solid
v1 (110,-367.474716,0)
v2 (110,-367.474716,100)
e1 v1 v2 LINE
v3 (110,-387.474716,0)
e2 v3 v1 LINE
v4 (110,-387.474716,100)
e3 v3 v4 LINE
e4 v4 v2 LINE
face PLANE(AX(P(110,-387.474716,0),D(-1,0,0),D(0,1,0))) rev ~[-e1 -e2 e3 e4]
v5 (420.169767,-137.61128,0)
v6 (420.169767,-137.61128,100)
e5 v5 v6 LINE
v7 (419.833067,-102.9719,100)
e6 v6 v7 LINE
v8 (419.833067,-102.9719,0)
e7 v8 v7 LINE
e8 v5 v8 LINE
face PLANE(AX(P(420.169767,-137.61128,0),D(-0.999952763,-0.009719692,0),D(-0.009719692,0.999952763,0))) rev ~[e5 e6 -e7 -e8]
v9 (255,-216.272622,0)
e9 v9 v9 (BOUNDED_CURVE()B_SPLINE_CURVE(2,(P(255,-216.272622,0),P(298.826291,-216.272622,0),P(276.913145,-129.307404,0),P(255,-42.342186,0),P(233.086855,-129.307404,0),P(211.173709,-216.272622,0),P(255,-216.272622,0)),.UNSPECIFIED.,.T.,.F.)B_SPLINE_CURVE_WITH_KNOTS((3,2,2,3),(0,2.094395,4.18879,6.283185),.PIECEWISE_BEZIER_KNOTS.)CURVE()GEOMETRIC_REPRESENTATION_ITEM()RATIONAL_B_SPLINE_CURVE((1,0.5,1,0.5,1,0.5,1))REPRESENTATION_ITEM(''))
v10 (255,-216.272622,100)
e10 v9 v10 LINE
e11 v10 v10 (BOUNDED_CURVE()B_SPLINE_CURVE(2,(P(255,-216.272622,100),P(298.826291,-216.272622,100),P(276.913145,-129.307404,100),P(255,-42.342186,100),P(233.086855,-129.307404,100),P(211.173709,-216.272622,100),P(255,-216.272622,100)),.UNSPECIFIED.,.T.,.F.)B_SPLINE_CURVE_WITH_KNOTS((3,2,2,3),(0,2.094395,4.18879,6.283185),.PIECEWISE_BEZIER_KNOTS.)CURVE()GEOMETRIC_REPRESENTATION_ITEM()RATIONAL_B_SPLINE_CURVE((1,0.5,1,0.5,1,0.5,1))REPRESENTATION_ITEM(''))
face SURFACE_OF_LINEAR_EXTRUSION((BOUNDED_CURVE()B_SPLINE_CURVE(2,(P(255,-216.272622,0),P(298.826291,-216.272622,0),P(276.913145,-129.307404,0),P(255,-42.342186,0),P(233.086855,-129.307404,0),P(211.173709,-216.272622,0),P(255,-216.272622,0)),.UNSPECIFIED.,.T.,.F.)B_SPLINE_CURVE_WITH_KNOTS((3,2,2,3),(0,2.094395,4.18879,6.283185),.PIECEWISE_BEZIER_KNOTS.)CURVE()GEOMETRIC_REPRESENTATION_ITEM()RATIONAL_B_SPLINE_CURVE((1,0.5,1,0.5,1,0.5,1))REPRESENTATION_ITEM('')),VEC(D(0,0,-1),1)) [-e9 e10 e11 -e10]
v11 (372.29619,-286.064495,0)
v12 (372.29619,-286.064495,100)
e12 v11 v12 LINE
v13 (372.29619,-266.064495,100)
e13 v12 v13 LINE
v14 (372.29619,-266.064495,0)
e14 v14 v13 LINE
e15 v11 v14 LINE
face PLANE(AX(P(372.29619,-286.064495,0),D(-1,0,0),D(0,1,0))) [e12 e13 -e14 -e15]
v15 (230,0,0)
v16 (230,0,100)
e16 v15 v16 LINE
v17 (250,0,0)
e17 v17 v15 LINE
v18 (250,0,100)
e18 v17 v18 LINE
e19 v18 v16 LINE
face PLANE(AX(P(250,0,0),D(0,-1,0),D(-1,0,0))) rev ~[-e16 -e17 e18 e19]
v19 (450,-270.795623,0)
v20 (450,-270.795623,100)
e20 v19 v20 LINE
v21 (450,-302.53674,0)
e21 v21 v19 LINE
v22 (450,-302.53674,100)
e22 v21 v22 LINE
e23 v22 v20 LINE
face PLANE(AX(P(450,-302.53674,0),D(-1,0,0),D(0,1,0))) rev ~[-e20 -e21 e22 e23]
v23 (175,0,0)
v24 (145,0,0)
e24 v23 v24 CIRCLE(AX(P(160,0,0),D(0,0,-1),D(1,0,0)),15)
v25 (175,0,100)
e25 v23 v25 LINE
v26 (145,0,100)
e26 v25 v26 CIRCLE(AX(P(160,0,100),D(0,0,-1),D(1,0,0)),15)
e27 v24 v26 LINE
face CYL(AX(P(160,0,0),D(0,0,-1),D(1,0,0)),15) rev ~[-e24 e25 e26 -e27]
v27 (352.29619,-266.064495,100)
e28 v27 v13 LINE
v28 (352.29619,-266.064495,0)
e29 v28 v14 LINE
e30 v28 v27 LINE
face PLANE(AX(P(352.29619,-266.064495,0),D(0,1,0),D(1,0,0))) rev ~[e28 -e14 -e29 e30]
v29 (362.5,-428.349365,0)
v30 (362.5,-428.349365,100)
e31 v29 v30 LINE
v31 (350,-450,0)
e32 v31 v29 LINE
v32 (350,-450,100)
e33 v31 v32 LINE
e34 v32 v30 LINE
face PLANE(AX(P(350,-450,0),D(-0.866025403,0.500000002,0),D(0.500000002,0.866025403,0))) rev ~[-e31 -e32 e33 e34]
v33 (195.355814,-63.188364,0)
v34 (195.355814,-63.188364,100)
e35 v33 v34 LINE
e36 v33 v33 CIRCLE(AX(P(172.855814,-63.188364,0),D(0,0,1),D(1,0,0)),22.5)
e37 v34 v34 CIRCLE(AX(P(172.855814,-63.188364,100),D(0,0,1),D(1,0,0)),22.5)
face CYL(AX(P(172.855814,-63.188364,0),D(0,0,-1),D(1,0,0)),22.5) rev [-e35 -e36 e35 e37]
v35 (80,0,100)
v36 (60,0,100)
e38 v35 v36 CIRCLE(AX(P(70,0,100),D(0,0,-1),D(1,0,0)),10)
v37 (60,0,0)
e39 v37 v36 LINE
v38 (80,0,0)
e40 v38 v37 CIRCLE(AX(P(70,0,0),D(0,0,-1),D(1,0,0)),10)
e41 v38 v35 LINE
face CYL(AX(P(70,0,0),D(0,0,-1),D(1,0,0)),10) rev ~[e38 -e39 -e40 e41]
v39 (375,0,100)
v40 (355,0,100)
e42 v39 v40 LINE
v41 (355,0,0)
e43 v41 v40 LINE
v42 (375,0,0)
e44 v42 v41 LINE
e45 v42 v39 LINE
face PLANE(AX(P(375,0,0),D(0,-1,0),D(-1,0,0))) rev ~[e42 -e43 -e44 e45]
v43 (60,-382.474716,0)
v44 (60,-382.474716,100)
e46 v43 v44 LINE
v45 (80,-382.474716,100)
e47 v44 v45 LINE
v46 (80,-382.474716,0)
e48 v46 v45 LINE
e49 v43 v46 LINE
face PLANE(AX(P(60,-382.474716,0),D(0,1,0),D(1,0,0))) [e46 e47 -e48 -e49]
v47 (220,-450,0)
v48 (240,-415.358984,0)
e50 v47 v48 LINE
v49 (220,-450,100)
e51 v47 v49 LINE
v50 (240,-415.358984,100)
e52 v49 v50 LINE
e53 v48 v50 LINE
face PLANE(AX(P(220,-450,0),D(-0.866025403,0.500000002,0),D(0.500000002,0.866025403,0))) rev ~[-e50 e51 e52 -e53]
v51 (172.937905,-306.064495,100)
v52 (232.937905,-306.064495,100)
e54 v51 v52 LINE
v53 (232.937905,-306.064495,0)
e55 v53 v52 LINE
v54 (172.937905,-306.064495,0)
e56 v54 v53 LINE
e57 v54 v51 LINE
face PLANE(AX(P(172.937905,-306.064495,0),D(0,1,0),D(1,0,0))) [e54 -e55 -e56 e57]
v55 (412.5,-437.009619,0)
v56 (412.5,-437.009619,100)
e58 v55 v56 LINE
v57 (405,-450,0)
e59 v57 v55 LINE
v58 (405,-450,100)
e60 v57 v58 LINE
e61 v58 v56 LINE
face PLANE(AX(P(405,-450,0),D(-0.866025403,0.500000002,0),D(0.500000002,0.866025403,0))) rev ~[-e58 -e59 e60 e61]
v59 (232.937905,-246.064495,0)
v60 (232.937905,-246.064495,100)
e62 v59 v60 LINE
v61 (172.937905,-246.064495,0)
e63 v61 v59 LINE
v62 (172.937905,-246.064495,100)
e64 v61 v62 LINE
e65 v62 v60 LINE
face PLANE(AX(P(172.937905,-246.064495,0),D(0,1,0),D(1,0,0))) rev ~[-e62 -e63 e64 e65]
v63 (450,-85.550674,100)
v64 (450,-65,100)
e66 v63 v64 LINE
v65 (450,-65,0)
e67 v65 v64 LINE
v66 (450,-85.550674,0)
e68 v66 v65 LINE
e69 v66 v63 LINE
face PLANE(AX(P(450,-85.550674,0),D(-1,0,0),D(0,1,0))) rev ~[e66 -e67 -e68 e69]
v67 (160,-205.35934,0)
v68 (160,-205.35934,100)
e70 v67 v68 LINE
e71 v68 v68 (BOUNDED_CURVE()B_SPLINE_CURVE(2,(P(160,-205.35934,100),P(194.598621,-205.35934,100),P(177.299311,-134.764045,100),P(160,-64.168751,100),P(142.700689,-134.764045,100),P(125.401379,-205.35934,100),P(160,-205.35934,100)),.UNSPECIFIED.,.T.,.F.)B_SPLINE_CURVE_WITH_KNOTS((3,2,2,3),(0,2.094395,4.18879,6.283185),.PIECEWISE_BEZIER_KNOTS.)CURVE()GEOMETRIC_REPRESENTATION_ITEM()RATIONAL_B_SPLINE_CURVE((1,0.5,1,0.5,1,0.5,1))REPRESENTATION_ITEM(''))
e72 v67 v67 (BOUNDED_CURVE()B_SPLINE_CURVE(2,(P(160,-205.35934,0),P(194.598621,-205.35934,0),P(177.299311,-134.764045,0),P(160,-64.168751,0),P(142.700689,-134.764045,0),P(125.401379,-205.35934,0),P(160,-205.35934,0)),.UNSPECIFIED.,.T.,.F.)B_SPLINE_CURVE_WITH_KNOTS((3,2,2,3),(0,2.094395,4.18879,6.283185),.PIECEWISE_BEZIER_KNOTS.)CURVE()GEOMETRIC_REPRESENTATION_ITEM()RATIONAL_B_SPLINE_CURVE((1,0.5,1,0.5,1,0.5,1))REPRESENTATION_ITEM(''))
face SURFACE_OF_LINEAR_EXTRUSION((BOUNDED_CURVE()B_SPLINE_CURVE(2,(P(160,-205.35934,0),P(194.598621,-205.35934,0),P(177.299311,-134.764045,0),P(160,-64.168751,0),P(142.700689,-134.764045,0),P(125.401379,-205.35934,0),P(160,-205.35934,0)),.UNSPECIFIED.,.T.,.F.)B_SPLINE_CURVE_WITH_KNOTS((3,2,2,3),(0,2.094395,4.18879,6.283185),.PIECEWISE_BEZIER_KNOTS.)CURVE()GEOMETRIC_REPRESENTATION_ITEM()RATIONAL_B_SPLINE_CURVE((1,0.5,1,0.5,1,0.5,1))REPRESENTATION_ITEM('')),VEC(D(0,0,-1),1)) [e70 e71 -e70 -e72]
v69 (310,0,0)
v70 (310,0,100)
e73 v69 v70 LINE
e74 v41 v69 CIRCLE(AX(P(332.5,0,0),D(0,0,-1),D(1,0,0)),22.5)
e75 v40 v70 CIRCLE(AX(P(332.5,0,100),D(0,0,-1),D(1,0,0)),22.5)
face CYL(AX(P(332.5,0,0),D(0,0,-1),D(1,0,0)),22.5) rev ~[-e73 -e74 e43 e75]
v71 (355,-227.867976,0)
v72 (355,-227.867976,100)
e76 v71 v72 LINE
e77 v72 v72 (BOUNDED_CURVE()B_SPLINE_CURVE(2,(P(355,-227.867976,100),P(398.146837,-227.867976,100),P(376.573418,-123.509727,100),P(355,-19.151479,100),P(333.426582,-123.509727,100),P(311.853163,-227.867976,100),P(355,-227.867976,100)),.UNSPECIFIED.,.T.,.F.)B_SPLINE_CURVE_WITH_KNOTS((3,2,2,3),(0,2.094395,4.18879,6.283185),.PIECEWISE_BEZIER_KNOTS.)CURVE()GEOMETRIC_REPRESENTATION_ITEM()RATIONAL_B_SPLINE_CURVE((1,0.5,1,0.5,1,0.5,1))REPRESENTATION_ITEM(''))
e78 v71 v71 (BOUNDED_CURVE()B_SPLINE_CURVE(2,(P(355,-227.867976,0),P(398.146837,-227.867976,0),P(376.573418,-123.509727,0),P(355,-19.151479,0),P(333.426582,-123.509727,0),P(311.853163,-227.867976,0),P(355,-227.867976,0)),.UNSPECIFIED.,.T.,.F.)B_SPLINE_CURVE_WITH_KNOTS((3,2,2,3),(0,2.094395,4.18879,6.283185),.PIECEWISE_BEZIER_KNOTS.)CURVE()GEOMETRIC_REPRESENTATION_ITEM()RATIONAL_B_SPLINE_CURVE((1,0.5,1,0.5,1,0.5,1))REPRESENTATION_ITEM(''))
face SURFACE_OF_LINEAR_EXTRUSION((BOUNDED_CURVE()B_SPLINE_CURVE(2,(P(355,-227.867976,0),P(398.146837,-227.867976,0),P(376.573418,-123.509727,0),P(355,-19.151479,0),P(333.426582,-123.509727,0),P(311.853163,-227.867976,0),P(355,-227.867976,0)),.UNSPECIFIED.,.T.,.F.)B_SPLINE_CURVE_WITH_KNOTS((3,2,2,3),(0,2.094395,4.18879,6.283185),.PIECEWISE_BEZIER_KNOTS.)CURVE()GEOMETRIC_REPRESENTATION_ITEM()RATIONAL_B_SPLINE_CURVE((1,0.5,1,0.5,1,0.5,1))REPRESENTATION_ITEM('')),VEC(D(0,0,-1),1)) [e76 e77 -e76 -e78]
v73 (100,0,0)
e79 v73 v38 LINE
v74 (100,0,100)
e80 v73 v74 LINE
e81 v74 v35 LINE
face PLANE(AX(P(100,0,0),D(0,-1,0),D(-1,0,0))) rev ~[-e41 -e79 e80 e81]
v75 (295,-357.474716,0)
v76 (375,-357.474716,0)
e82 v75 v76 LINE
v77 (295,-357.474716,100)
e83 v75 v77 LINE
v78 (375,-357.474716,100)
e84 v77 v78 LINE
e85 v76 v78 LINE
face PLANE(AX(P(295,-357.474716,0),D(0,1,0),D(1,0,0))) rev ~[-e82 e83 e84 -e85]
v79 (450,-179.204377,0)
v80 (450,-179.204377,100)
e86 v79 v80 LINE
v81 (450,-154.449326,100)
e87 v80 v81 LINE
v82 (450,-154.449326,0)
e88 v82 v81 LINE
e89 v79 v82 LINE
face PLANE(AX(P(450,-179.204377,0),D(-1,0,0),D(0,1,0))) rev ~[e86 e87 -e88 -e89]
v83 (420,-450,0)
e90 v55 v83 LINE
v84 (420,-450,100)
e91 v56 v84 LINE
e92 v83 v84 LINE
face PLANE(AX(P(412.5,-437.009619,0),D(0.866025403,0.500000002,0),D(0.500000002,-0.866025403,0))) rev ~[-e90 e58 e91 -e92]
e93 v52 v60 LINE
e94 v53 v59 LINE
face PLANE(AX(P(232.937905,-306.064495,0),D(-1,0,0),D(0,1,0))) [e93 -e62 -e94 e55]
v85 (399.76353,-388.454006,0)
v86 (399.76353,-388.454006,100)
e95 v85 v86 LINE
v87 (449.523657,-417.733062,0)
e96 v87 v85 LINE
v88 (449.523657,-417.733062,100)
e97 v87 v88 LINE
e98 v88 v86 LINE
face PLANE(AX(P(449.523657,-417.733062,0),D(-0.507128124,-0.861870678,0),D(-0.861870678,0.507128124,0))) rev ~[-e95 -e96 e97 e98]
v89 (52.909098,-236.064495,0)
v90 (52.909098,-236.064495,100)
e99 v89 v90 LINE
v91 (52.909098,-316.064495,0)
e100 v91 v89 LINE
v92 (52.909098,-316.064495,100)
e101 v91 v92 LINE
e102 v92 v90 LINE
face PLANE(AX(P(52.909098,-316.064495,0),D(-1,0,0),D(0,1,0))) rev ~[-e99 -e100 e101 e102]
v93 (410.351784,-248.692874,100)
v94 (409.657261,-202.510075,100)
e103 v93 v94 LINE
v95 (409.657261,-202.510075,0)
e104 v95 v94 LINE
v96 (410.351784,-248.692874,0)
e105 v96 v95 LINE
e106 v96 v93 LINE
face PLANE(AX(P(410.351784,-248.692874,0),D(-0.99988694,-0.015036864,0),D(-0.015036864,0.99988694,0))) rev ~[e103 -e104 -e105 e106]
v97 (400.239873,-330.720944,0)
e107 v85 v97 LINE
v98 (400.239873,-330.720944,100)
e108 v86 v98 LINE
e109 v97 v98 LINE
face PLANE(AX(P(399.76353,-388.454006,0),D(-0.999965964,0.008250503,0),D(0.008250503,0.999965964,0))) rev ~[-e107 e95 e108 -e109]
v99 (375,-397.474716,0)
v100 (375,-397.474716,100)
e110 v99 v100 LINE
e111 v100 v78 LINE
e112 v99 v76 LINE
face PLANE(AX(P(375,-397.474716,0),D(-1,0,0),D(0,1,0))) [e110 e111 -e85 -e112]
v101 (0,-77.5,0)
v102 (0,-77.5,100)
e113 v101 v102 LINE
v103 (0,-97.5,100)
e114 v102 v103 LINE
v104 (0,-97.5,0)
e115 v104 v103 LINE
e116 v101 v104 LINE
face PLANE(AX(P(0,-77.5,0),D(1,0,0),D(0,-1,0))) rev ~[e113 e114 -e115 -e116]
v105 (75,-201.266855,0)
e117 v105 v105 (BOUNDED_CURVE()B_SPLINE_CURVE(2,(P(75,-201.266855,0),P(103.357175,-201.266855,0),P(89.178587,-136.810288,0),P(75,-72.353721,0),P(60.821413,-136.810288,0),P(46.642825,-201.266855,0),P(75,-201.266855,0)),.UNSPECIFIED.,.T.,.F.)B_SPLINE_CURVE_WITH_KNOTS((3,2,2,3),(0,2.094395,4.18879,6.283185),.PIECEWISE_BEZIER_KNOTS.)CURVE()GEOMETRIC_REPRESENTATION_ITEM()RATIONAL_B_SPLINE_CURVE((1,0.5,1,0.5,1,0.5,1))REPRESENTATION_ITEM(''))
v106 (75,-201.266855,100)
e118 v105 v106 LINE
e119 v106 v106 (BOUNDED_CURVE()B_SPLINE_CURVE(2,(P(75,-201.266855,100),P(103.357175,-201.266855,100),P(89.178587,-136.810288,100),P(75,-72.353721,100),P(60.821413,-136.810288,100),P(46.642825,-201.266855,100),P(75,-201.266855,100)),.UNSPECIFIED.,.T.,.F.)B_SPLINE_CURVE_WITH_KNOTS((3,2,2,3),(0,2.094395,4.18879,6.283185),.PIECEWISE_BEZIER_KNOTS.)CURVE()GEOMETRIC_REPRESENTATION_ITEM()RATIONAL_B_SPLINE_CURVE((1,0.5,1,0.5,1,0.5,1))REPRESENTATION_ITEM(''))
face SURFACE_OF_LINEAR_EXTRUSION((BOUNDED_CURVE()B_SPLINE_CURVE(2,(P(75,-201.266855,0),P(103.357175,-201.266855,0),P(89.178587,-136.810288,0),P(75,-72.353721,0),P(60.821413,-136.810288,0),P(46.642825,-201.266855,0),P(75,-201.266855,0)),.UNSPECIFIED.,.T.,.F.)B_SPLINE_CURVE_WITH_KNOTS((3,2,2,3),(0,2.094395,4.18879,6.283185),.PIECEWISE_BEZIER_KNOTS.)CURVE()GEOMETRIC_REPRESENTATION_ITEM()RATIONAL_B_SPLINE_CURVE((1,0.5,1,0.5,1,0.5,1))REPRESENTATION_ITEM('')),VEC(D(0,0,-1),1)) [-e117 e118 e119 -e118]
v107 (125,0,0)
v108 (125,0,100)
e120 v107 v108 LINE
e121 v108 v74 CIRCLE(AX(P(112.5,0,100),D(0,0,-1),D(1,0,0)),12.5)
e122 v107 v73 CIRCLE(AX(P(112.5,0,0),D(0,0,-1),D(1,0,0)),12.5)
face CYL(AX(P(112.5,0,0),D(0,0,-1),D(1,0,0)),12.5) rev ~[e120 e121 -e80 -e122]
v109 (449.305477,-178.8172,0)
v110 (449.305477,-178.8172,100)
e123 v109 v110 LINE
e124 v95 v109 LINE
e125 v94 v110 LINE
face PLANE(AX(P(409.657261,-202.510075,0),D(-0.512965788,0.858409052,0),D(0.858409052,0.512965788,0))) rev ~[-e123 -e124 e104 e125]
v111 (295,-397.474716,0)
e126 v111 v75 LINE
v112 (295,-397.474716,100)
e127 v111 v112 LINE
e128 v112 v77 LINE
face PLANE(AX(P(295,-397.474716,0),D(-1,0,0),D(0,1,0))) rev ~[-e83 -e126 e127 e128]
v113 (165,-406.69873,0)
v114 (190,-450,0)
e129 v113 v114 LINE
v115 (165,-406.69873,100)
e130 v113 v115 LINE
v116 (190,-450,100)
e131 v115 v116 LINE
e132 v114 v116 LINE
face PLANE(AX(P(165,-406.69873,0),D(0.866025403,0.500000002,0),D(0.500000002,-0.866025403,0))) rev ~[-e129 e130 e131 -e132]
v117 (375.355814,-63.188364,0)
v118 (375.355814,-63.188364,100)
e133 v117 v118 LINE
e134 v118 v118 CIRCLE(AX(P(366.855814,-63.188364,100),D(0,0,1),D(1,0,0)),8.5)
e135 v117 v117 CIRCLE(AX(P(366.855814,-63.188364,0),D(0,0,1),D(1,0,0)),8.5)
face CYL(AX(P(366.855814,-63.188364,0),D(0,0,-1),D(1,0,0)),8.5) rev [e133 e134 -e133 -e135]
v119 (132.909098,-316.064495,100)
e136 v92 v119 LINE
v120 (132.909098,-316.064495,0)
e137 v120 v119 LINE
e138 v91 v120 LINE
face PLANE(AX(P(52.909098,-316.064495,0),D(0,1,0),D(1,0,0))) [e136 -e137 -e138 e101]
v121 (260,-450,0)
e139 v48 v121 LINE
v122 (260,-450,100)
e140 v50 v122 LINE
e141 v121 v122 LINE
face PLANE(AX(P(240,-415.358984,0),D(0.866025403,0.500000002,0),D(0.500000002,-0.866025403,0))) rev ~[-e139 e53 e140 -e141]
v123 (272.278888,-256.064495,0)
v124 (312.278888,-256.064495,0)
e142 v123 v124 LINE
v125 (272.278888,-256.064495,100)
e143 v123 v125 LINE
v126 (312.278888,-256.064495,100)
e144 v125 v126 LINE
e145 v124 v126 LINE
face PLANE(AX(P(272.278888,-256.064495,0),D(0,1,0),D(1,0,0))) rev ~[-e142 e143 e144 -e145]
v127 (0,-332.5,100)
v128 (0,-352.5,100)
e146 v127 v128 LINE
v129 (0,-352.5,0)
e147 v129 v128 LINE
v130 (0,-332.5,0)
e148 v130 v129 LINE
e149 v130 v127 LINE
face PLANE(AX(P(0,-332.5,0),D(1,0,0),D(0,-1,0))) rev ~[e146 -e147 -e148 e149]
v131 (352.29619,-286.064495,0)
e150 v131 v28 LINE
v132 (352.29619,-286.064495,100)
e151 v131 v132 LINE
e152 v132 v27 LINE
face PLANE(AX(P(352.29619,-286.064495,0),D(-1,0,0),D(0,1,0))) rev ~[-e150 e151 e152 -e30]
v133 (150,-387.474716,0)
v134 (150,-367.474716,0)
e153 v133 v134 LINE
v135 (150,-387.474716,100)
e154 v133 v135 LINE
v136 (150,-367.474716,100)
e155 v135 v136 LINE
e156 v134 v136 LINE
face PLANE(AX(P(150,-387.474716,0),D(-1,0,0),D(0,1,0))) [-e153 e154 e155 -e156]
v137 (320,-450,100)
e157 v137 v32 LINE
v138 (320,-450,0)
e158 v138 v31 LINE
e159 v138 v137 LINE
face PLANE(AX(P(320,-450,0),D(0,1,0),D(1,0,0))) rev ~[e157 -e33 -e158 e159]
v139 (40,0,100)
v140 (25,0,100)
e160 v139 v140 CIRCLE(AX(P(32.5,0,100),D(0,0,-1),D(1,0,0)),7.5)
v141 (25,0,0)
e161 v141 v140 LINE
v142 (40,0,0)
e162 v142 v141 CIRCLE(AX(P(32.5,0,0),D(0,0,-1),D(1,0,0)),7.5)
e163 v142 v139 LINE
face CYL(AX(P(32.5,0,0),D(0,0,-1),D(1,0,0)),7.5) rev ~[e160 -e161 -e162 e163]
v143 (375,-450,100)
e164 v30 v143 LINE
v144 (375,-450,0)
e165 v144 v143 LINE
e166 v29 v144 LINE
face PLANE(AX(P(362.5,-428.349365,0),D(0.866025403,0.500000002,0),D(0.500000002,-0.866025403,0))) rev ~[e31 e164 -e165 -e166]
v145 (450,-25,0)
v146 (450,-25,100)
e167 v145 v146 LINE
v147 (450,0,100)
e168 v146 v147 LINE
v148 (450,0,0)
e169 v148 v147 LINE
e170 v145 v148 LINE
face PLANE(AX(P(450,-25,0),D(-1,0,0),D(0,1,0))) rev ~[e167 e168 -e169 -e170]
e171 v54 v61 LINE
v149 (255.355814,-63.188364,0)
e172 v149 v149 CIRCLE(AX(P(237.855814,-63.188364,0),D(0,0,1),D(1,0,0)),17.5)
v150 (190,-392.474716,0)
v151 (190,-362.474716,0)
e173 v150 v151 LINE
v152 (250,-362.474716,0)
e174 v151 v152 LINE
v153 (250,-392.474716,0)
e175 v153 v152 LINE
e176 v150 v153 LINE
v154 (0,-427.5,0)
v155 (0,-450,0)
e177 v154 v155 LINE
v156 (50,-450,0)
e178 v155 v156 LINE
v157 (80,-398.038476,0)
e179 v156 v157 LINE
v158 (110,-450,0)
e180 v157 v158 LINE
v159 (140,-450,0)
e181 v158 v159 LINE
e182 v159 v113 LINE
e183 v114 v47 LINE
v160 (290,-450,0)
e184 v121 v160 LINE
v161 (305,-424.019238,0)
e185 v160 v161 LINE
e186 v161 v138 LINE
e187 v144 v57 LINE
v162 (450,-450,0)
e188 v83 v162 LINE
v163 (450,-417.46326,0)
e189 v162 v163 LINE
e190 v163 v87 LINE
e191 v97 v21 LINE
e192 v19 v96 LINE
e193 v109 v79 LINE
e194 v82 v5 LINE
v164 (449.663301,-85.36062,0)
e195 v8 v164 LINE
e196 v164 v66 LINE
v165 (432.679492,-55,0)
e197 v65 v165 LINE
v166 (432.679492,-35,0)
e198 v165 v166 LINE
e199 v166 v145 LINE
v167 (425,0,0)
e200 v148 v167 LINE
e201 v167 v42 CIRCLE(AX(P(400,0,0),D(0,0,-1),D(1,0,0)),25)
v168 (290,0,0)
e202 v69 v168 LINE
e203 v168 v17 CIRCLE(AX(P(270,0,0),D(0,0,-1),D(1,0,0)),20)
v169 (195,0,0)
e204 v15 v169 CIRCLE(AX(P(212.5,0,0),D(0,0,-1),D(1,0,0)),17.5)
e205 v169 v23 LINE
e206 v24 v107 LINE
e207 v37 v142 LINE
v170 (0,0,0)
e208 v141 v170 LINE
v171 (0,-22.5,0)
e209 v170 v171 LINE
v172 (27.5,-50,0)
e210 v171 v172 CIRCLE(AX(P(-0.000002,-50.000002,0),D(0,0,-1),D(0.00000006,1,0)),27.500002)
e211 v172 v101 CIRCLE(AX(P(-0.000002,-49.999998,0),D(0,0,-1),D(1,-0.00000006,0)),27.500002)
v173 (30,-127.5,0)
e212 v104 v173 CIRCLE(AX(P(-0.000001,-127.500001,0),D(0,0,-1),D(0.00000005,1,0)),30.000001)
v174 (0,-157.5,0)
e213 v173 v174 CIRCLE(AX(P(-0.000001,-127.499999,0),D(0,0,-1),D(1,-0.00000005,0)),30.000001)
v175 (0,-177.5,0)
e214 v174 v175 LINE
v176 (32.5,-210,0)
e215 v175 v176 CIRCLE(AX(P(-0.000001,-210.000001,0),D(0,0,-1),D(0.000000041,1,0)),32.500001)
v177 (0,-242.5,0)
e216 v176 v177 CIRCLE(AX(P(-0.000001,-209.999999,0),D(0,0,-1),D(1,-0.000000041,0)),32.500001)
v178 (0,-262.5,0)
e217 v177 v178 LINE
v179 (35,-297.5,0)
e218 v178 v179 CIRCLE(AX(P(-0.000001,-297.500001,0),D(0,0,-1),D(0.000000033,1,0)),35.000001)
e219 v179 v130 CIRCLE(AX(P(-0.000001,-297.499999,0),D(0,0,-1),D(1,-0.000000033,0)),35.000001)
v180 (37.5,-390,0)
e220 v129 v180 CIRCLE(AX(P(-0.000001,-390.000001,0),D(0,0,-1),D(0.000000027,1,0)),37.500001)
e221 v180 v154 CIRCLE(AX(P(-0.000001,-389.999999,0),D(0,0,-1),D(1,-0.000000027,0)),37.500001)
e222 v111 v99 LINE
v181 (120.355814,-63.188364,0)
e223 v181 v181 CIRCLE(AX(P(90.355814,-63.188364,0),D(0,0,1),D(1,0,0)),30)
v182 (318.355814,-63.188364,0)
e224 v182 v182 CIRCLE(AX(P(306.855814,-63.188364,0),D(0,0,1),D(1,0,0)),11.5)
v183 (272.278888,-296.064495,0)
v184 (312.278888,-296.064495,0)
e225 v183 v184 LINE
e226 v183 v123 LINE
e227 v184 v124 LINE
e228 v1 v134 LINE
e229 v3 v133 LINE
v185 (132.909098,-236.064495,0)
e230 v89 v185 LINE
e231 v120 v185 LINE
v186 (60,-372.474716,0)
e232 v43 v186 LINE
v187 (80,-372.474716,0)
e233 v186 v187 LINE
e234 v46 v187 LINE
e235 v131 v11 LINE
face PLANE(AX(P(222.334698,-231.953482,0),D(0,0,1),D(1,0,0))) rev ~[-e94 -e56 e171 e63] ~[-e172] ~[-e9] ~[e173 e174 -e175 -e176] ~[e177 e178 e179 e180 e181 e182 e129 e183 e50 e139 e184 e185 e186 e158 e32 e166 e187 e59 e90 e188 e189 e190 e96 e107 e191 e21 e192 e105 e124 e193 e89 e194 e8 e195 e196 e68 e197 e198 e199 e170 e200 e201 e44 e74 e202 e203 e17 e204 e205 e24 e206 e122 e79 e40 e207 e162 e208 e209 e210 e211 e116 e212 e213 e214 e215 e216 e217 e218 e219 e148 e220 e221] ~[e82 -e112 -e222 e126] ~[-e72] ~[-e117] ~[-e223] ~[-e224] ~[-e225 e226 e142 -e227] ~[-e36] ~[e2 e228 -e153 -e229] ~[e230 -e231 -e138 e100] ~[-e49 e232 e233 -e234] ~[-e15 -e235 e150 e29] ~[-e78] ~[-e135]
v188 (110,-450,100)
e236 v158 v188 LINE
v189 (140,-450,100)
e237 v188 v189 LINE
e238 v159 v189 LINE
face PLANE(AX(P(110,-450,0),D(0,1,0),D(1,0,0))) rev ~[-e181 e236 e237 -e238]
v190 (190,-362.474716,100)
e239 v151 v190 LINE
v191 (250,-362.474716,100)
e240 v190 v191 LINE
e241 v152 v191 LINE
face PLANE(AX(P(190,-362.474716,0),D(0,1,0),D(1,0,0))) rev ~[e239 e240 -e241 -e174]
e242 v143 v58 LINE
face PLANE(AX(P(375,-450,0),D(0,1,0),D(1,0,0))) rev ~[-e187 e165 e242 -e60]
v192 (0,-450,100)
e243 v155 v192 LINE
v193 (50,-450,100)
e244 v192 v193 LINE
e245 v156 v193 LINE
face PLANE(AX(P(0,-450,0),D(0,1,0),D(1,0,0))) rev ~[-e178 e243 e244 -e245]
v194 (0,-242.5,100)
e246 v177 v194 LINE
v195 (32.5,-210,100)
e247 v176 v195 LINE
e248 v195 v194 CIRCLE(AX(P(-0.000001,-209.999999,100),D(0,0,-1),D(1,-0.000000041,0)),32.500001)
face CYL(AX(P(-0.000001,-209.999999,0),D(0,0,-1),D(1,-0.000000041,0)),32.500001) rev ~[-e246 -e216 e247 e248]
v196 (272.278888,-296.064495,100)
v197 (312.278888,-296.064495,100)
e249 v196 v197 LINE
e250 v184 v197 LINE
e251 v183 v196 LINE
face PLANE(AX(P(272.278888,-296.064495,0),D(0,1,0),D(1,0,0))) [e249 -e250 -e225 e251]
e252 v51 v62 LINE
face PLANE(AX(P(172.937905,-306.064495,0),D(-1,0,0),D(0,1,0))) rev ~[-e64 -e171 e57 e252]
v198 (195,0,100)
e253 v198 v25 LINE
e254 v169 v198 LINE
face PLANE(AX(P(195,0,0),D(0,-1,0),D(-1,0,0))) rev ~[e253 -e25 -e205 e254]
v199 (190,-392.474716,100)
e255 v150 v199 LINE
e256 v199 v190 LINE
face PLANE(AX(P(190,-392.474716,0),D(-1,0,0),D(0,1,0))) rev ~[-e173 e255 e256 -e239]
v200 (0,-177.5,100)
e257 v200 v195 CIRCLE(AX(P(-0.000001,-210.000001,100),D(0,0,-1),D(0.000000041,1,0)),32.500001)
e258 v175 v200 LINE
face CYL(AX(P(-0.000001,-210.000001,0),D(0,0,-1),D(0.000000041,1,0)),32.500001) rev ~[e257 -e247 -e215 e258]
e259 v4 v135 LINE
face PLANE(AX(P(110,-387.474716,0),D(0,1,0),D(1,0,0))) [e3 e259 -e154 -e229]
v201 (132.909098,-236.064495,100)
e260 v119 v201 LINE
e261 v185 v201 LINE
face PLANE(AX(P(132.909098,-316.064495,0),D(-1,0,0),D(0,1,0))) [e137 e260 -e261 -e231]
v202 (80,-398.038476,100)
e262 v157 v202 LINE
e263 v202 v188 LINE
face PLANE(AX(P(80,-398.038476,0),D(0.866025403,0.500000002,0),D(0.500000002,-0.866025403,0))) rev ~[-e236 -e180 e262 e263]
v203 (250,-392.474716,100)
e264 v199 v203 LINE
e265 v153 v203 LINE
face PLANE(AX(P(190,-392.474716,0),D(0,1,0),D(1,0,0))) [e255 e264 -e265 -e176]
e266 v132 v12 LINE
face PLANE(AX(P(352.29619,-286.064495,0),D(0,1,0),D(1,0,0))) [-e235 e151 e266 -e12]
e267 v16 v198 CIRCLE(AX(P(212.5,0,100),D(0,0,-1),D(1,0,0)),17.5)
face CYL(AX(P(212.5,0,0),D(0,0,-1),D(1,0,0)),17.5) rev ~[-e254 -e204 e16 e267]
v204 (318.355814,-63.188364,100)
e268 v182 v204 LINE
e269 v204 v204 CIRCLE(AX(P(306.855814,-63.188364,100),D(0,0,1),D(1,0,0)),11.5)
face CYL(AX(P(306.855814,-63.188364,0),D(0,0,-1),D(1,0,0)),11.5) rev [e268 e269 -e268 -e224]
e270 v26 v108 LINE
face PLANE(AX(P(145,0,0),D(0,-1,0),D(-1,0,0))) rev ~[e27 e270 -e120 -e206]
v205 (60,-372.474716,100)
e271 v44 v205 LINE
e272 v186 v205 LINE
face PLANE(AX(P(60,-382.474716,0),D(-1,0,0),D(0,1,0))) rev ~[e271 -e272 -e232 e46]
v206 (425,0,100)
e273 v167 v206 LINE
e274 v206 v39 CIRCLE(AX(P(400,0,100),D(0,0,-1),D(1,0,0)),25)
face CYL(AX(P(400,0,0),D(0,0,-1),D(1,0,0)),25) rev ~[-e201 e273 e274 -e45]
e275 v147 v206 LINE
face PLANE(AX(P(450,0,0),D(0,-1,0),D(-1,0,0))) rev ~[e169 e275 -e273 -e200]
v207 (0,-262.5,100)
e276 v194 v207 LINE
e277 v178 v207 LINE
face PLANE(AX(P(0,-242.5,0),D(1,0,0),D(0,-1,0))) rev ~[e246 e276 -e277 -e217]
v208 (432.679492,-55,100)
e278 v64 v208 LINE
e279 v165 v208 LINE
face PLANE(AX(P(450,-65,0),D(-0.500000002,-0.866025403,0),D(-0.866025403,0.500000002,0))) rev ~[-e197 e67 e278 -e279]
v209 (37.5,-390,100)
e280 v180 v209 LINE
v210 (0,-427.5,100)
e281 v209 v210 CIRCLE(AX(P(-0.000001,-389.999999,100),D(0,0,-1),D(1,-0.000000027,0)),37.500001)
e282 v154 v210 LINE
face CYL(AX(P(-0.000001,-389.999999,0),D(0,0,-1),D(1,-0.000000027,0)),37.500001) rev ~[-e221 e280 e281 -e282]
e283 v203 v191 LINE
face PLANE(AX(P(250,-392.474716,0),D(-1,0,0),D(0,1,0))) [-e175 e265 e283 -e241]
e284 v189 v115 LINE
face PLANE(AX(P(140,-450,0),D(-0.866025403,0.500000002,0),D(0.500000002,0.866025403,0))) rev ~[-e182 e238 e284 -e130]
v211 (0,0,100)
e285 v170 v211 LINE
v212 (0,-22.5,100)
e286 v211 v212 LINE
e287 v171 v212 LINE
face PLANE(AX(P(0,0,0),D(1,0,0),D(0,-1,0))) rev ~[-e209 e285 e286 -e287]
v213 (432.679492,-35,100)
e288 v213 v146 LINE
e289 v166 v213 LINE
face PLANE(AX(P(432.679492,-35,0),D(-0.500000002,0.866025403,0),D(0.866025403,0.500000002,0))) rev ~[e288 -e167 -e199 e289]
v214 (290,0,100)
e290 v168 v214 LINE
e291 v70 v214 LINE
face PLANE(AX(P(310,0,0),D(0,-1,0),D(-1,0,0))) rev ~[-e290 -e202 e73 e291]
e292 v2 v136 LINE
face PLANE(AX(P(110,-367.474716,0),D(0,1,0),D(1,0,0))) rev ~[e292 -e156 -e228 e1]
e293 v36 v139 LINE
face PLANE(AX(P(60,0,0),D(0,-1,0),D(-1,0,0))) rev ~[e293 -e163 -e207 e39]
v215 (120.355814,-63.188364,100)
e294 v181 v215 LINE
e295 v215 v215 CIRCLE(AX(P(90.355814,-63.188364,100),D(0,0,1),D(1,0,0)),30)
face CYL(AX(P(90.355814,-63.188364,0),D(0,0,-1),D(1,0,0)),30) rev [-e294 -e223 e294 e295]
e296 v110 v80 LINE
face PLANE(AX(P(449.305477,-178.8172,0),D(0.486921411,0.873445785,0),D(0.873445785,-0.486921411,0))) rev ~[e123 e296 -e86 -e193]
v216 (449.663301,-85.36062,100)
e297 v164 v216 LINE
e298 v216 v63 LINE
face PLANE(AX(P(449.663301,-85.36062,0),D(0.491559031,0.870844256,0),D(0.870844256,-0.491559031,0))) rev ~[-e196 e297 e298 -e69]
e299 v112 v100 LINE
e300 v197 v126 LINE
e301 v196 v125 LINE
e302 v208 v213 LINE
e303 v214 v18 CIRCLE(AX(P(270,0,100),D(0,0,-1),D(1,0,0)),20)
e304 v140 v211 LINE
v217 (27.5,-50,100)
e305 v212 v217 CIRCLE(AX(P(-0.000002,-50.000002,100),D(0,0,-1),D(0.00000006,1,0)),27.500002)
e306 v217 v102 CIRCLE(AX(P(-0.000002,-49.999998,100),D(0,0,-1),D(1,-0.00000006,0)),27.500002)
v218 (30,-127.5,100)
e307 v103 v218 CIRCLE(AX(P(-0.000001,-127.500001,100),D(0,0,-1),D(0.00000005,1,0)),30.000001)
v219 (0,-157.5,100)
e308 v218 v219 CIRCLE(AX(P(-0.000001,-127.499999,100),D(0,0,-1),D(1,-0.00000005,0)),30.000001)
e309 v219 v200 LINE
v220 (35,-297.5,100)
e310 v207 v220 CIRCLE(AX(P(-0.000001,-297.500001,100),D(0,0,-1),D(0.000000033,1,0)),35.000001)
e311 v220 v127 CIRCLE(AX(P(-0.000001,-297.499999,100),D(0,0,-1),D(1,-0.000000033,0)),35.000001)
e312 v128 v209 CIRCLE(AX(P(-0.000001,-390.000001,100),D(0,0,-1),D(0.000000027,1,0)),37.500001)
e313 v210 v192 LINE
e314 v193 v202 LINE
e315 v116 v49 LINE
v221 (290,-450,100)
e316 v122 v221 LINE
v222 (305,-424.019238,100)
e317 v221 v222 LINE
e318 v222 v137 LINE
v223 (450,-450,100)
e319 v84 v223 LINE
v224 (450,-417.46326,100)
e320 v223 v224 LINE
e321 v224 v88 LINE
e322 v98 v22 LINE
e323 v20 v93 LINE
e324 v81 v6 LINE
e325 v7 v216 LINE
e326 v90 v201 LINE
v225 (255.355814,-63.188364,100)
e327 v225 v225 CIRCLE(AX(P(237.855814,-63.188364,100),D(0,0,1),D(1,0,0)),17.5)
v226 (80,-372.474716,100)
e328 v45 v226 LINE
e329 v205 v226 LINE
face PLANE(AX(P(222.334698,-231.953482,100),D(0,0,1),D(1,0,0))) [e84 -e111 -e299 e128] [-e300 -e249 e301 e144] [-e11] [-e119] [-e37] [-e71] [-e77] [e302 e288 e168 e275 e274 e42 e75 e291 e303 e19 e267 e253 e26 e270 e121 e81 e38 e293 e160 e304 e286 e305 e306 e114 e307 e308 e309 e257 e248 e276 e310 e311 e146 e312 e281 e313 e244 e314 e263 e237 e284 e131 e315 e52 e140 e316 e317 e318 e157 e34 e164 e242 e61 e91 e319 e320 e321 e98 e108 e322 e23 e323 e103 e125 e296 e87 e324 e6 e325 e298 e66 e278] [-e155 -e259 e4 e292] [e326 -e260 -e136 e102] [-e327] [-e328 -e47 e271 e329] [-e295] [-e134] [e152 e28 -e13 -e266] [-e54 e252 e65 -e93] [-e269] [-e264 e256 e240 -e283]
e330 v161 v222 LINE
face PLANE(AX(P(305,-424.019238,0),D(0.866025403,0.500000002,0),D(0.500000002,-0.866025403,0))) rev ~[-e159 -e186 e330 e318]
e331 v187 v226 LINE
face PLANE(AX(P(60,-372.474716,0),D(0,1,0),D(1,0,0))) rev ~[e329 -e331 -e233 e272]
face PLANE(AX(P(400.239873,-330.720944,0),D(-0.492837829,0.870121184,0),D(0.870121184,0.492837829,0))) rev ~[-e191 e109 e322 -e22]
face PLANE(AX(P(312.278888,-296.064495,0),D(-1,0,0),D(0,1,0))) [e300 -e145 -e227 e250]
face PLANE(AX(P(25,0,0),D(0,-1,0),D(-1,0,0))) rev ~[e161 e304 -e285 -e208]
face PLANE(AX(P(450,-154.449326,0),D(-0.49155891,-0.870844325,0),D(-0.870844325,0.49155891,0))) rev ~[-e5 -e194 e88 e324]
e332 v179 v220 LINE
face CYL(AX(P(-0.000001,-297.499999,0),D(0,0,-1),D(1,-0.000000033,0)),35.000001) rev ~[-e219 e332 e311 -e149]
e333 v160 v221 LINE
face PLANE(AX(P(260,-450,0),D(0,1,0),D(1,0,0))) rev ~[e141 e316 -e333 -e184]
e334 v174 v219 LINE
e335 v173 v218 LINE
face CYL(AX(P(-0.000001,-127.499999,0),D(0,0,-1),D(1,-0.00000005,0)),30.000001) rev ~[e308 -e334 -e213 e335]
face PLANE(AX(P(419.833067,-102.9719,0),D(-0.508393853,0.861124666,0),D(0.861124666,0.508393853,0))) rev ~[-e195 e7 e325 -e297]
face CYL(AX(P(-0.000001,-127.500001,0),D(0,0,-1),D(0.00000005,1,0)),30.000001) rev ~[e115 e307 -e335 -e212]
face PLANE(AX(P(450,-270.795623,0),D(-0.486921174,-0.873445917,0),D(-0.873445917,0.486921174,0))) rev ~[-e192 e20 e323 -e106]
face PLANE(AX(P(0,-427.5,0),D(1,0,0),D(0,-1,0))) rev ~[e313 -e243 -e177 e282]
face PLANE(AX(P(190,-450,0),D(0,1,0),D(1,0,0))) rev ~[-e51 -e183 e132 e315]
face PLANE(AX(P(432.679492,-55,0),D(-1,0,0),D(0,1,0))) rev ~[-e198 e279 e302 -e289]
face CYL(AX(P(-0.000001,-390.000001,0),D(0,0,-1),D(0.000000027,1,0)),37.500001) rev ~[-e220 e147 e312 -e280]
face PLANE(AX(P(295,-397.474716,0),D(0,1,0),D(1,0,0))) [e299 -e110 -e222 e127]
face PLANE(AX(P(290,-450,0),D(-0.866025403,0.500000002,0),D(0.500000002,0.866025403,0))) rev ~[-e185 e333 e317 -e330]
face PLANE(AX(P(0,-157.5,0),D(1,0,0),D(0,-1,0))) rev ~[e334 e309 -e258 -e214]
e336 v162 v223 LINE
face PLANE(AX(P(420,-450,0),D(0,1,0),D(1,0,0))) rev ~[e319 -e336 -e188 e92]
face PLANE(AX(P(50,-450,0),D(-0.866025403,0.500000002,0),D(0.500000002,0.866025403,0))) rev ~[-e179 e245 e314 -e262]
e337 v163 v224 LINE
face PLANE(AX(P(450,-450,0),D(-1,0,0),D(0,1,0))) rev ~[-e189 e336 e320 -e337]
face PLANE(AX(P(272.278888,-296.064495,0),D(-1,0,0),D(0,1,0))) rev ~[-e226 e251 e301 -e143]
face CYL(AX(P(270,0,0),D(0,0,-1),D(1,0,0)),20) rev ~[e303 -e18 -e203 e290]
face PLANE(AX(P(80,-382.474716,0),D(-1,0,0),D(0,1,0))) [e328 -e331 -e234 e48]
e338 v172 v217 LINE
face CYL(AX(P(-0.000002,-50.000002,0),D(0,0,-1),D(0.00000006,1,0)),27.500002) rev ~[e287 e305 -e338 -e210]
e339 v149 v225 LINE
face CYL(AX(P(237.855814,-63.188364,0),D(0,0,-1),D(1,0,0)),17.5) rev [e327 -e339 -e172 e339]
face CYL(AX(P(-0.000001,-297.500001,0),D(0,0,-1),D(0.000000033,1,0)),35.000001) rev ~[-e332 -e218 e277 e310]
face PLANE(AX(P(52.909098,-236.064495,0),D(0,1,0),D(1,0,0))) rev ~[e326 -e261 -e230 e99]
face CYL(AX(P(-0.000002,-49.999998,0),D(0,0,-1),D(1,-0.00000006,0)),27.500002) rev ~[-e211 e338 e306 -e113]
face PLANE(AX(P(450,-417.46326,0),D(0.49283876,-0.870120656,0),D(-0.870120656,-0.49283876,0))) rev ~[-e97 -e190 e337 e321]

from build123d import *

# Parameters (mm, degrees)
F0_W     = 20
F0_H     = 10
F0_W_2   = 40
F0_H_2   = 20
F0_W_3   = 60
F0_H_3   = 30
F0_W_4   = 80
F0_H_4   = 80
F0_H_5   = 60
F0_H_6   = 40
F0_R     = 30
F0_R_2   = 22.5
F0_R_3   = 17.5
F0_R_4   = 11.5
F0_R_5   = 8.5
F1_DEPTH = 100


with BuildPart() as f1:
    # F0 (on Top) → F1 (new body)
    with BuildSketch(Plane.XY):
        with BuildLine():
            Line((450, 0), (425, 0))
            ThreePointArc((425, 0), (400, -25), (375, 0))
            Line((375, 0), (355, 0))
            ThreePointArc((355, 0), (332.5, -22.5), (310, 0))
            Line((310, 0), (290, 0))
            ThreePointArc((290, 0), (270, -20), (250, 0))
            Line((250, 0), (230, 0))
            ThreePointArc((230, 0), (212.5, -17.5), (195, 0))
            Line((195, 0), (175, 0))
            ThreePointArc((175, 0), (160, -15), (145, 0))
            Line((145, 0), (125, 0))
            ThreePointArc((125, 0), (112.5, -12.5), (100, 0))
            Line((100, 0), (80, 0))
            ThreePointArc((80, 0), (70, -10), (60, 0))
            Line((60, 0), (40, 0))
            ThreePointArc((40, 0), (32.5, -7.5), (25, 0))
            Line((25, 0), (0, 0))
            Line((0, 0), (0, -22.5))
            ThreePointArc((0, -22.5), (19.445436, -30.554564), (27.5, -50))
            ThreePointArc((27.5, -50), (19.445436, -69.445436), (0, -77.5))
            Line((0, -77.5), (0, -97.5))
            ThreePointArc((0, -97.5), (21.213203, -106.286797), (30, -127.5))
            ThreePointArc((30, -127.5), (21.213203, -148.713203), (0, -157.5))
            Line((0, -157.5), (0, -177.5))
            ThreePointArc((0, -177.5), (22.98097, -187.01903), (32.5, -210))
            ThreePointArc((32.5, -210), (22.98097, -232.98097), (0, -242.5))
            Line((0, -242.5), (0, -262.5))
            ThreePointArc((0, -262.5), (24.748737, -272.751263), (35, -297.5))
            ThreePointArc((35, -297.5), (24.748737, -322.248737), (0, -332.5))
            Line((0, -332.5), (0, -352.5))
            ThreePointArc((0, -352.5), (26.516504, -363.483496), (37.5, -390))
            ThreePointArc((37.5, -390), (26.516504, -416.516504), (0, -427.5))
            Line((0, -427.5), (0, -450))
            Line((0, -450), (50, -450))
            Line((50, -450), (80, -398.038476))
            Line((80, -398.038476), (110, -450))
            Line((110, -450), (140, -450))
            Line((140, -450), (165, -406.69873))
            Line((165, -406.69873), (190, -450))
            Line((190, -450), (220, -450))
            Line((220, -450), (240, -415.358984))
            Line((240, -415.358984), (260, -450))
            Line((260, -450), (290, -450))
            Line((290, -450), (305, -424.019238))
            Line((305, -424.019238), (320, -450))
            Line((320, -450), (350, -450))
            Line((350, -450), (362.5, -428.349365))
            Line((362.5, -428.349365), (375, -450))
            Line((375, -450), (405, -450))
            Line((405, -450), (412.5, -437.009619))
            Line((412.5, -437.009619), (420, -450))
            Line((420, -450), (450, -450))
            Line((450, -450), (450, -417.46326))
            Line((450, -417.46326), (449.523657, -417.733062))
            Line((449.523657, -417.733062), (399.76353, -388.454006))
            Line((399.76353, -388.454006), (400.239873, -330.720944))
            Line((400.239873, -330.720944), (450, -302.53674))
            Line((450, -302.53674), (450, -270.795623))
            Line((450, -270.795623), (410.351784, -248.692874))
            Line((410.351784, -248.692874), (409.657261, -202.510075))
            Line((409.657261, -202.510075), (449.305477, -178.8172))
            Line((449.305477, -178.8172), (450, -179.204377))
            Line((450, -179.204377), (450, -154.449326))
            Line((450, -154.449326), (420.169767, -137.61128))
            Line((420.169767, -137.61128), (419.833067, -102.9719))
            Line((419.833067, -102.9719), (449.663301, -85.36062))
            Line((449.663301, -85.36062), (450, -85.550674))
            Line((450, -85.550674), (450, -65))
            Line((450, -65), (432.679492, -55))
            Line((432.679492, -55), (432.679492, -35))
            Line((432.679492, -35), (450, -25))
            Line((450, -25), (450, 0))
        make_face()
        with Locations((70, -377.474716)):
            Rectangle(F0_W, F0_H, mode=Mode.SUBTRACT)
        with Locations((130, -377.474716)):
            Rectangle(F0_W_2, F0_H_2, mode=Mode.SUBTRACT)
        with Locations((220, -377.474716)):
            Rectangle(F0_W_3, F0_H_3, mode=Mode.SUBTRACT)
        with Locations((92.909098, -276.064495)):
            Rectangle(F0_W_4, F0_H_4, mode=Mode.SUBTRACT)
        with Locations((202.937905, -276.064495)):
            Rectangle(F0_W_3, F0_H_5, mode=Mode.SUBTRACT)
        with Locations((335, -377.474716)):
            Rectangle(F0_W_4, F0_H_6, mode=Mode.SUBTRACT)
        with Locations((292.278888, -276.064495)):
            Rectangle(F0_W_2, F0_H_6, mode=Mode.SUBTRACT)
        with Locations((362.29619, -276.064495)):
            Rectangle(F0_W, F0_H_2, mode=Mode.SUBTRACT)
        with BuildLine():
            add(Edge.make_bspline(
                [(75, -201.266855), (103.357175, -201.266855), (89.178587, -136.810288), (75, -72.353721), (60.821413, -136.810288), (46.642825, -201.266855), (75, -201.266855)],
                knots=[0, 0, 0, 2.094395, 2.094395, 4.18879, 4.18879, 6.283185, 6.283185, 6.283185], degree=2, weights=[1, 0.5, 1, 0.5, 1, 0.5, 1]))
        make_face(mode=Mode.SUBTRACT)
        with BuildLine():
            add(Edge.make_bspline(
                [(160, -205.35934), (194.598621, -205.35934), (177.299311, -134.764045), (160, -64.168751), (142.700689, -134.764045), (125.401379, -205.35934), (160, -205.35934)],
                knots=[0, 0, 0, 2.094395, 2.094395, 4.18879, 4.18879, 6.283185, 6.283185, 6.283185], degree=2, weights=[1, 0.5, 1, 0.5, 1, 0.5, 1]))
        make_face(mode=Mode.SUBTRACT)
        with Locations((90.355814, -63.188364)):
            Circle(F0_R, mode=Mode.SUBTRACT)
        with Locations((172.855814, -63.188364)):
            Circle(F0_R_2, mode=Mode.SUBTRACT)
        with BuildLine():
            add(Edge.make_bspline(
                [(255, -216.272622), (298.826291, -216.272622), (276.913145, -129.307404), (255, -42.342186), (233.086855, -129.307404), (211.173709, -216.272622), (255, -216.272622)],
                knots=[0, 0, 0, 2.094395, 2.094395, 4.18879, 4.18879, 6.283185, 6.283185, 6.283185], degree=2, weights=[1, 0.5, 1, 0.5, 1, 0.5, 1]))
        make_face(mode=Mode.SUBTRACT)
        with BuildLine():
            add(Edge.make_bspline(
                [(355, -227.867976), (398.146837, -227.867976), (376.573418, -123.509727), (355, -19.151479), (333.426582, -123.509727), (311.853163, -227.867976), (355, -227.867976)],
                knots=[0, 0, 0, 2.094395, 2.094395, 4.18879, 4.18879, 6.283185, 6.283185, 6.283185], degree=2, weights=[1, 0.5, 1, 0.5, 1, 0.5, 1]))
        make_face(mode=Mode.SUBTRACT)
        with Locations((237.855814, -63.188364)):
            Circle(F0_R_3, mode=Mode.SUBTRACT)
        with Locations((306.855814, -63.188364)):
            Circle(F0_R_4, mode=Mode.SUBTRACT)
        with Locations((366.855814, -63.188364)):
            Circle(F0_R_5, mode=Mode.SUBTRACT)
    extrude(amount=F1_DEPTH)


solid = f1.part
